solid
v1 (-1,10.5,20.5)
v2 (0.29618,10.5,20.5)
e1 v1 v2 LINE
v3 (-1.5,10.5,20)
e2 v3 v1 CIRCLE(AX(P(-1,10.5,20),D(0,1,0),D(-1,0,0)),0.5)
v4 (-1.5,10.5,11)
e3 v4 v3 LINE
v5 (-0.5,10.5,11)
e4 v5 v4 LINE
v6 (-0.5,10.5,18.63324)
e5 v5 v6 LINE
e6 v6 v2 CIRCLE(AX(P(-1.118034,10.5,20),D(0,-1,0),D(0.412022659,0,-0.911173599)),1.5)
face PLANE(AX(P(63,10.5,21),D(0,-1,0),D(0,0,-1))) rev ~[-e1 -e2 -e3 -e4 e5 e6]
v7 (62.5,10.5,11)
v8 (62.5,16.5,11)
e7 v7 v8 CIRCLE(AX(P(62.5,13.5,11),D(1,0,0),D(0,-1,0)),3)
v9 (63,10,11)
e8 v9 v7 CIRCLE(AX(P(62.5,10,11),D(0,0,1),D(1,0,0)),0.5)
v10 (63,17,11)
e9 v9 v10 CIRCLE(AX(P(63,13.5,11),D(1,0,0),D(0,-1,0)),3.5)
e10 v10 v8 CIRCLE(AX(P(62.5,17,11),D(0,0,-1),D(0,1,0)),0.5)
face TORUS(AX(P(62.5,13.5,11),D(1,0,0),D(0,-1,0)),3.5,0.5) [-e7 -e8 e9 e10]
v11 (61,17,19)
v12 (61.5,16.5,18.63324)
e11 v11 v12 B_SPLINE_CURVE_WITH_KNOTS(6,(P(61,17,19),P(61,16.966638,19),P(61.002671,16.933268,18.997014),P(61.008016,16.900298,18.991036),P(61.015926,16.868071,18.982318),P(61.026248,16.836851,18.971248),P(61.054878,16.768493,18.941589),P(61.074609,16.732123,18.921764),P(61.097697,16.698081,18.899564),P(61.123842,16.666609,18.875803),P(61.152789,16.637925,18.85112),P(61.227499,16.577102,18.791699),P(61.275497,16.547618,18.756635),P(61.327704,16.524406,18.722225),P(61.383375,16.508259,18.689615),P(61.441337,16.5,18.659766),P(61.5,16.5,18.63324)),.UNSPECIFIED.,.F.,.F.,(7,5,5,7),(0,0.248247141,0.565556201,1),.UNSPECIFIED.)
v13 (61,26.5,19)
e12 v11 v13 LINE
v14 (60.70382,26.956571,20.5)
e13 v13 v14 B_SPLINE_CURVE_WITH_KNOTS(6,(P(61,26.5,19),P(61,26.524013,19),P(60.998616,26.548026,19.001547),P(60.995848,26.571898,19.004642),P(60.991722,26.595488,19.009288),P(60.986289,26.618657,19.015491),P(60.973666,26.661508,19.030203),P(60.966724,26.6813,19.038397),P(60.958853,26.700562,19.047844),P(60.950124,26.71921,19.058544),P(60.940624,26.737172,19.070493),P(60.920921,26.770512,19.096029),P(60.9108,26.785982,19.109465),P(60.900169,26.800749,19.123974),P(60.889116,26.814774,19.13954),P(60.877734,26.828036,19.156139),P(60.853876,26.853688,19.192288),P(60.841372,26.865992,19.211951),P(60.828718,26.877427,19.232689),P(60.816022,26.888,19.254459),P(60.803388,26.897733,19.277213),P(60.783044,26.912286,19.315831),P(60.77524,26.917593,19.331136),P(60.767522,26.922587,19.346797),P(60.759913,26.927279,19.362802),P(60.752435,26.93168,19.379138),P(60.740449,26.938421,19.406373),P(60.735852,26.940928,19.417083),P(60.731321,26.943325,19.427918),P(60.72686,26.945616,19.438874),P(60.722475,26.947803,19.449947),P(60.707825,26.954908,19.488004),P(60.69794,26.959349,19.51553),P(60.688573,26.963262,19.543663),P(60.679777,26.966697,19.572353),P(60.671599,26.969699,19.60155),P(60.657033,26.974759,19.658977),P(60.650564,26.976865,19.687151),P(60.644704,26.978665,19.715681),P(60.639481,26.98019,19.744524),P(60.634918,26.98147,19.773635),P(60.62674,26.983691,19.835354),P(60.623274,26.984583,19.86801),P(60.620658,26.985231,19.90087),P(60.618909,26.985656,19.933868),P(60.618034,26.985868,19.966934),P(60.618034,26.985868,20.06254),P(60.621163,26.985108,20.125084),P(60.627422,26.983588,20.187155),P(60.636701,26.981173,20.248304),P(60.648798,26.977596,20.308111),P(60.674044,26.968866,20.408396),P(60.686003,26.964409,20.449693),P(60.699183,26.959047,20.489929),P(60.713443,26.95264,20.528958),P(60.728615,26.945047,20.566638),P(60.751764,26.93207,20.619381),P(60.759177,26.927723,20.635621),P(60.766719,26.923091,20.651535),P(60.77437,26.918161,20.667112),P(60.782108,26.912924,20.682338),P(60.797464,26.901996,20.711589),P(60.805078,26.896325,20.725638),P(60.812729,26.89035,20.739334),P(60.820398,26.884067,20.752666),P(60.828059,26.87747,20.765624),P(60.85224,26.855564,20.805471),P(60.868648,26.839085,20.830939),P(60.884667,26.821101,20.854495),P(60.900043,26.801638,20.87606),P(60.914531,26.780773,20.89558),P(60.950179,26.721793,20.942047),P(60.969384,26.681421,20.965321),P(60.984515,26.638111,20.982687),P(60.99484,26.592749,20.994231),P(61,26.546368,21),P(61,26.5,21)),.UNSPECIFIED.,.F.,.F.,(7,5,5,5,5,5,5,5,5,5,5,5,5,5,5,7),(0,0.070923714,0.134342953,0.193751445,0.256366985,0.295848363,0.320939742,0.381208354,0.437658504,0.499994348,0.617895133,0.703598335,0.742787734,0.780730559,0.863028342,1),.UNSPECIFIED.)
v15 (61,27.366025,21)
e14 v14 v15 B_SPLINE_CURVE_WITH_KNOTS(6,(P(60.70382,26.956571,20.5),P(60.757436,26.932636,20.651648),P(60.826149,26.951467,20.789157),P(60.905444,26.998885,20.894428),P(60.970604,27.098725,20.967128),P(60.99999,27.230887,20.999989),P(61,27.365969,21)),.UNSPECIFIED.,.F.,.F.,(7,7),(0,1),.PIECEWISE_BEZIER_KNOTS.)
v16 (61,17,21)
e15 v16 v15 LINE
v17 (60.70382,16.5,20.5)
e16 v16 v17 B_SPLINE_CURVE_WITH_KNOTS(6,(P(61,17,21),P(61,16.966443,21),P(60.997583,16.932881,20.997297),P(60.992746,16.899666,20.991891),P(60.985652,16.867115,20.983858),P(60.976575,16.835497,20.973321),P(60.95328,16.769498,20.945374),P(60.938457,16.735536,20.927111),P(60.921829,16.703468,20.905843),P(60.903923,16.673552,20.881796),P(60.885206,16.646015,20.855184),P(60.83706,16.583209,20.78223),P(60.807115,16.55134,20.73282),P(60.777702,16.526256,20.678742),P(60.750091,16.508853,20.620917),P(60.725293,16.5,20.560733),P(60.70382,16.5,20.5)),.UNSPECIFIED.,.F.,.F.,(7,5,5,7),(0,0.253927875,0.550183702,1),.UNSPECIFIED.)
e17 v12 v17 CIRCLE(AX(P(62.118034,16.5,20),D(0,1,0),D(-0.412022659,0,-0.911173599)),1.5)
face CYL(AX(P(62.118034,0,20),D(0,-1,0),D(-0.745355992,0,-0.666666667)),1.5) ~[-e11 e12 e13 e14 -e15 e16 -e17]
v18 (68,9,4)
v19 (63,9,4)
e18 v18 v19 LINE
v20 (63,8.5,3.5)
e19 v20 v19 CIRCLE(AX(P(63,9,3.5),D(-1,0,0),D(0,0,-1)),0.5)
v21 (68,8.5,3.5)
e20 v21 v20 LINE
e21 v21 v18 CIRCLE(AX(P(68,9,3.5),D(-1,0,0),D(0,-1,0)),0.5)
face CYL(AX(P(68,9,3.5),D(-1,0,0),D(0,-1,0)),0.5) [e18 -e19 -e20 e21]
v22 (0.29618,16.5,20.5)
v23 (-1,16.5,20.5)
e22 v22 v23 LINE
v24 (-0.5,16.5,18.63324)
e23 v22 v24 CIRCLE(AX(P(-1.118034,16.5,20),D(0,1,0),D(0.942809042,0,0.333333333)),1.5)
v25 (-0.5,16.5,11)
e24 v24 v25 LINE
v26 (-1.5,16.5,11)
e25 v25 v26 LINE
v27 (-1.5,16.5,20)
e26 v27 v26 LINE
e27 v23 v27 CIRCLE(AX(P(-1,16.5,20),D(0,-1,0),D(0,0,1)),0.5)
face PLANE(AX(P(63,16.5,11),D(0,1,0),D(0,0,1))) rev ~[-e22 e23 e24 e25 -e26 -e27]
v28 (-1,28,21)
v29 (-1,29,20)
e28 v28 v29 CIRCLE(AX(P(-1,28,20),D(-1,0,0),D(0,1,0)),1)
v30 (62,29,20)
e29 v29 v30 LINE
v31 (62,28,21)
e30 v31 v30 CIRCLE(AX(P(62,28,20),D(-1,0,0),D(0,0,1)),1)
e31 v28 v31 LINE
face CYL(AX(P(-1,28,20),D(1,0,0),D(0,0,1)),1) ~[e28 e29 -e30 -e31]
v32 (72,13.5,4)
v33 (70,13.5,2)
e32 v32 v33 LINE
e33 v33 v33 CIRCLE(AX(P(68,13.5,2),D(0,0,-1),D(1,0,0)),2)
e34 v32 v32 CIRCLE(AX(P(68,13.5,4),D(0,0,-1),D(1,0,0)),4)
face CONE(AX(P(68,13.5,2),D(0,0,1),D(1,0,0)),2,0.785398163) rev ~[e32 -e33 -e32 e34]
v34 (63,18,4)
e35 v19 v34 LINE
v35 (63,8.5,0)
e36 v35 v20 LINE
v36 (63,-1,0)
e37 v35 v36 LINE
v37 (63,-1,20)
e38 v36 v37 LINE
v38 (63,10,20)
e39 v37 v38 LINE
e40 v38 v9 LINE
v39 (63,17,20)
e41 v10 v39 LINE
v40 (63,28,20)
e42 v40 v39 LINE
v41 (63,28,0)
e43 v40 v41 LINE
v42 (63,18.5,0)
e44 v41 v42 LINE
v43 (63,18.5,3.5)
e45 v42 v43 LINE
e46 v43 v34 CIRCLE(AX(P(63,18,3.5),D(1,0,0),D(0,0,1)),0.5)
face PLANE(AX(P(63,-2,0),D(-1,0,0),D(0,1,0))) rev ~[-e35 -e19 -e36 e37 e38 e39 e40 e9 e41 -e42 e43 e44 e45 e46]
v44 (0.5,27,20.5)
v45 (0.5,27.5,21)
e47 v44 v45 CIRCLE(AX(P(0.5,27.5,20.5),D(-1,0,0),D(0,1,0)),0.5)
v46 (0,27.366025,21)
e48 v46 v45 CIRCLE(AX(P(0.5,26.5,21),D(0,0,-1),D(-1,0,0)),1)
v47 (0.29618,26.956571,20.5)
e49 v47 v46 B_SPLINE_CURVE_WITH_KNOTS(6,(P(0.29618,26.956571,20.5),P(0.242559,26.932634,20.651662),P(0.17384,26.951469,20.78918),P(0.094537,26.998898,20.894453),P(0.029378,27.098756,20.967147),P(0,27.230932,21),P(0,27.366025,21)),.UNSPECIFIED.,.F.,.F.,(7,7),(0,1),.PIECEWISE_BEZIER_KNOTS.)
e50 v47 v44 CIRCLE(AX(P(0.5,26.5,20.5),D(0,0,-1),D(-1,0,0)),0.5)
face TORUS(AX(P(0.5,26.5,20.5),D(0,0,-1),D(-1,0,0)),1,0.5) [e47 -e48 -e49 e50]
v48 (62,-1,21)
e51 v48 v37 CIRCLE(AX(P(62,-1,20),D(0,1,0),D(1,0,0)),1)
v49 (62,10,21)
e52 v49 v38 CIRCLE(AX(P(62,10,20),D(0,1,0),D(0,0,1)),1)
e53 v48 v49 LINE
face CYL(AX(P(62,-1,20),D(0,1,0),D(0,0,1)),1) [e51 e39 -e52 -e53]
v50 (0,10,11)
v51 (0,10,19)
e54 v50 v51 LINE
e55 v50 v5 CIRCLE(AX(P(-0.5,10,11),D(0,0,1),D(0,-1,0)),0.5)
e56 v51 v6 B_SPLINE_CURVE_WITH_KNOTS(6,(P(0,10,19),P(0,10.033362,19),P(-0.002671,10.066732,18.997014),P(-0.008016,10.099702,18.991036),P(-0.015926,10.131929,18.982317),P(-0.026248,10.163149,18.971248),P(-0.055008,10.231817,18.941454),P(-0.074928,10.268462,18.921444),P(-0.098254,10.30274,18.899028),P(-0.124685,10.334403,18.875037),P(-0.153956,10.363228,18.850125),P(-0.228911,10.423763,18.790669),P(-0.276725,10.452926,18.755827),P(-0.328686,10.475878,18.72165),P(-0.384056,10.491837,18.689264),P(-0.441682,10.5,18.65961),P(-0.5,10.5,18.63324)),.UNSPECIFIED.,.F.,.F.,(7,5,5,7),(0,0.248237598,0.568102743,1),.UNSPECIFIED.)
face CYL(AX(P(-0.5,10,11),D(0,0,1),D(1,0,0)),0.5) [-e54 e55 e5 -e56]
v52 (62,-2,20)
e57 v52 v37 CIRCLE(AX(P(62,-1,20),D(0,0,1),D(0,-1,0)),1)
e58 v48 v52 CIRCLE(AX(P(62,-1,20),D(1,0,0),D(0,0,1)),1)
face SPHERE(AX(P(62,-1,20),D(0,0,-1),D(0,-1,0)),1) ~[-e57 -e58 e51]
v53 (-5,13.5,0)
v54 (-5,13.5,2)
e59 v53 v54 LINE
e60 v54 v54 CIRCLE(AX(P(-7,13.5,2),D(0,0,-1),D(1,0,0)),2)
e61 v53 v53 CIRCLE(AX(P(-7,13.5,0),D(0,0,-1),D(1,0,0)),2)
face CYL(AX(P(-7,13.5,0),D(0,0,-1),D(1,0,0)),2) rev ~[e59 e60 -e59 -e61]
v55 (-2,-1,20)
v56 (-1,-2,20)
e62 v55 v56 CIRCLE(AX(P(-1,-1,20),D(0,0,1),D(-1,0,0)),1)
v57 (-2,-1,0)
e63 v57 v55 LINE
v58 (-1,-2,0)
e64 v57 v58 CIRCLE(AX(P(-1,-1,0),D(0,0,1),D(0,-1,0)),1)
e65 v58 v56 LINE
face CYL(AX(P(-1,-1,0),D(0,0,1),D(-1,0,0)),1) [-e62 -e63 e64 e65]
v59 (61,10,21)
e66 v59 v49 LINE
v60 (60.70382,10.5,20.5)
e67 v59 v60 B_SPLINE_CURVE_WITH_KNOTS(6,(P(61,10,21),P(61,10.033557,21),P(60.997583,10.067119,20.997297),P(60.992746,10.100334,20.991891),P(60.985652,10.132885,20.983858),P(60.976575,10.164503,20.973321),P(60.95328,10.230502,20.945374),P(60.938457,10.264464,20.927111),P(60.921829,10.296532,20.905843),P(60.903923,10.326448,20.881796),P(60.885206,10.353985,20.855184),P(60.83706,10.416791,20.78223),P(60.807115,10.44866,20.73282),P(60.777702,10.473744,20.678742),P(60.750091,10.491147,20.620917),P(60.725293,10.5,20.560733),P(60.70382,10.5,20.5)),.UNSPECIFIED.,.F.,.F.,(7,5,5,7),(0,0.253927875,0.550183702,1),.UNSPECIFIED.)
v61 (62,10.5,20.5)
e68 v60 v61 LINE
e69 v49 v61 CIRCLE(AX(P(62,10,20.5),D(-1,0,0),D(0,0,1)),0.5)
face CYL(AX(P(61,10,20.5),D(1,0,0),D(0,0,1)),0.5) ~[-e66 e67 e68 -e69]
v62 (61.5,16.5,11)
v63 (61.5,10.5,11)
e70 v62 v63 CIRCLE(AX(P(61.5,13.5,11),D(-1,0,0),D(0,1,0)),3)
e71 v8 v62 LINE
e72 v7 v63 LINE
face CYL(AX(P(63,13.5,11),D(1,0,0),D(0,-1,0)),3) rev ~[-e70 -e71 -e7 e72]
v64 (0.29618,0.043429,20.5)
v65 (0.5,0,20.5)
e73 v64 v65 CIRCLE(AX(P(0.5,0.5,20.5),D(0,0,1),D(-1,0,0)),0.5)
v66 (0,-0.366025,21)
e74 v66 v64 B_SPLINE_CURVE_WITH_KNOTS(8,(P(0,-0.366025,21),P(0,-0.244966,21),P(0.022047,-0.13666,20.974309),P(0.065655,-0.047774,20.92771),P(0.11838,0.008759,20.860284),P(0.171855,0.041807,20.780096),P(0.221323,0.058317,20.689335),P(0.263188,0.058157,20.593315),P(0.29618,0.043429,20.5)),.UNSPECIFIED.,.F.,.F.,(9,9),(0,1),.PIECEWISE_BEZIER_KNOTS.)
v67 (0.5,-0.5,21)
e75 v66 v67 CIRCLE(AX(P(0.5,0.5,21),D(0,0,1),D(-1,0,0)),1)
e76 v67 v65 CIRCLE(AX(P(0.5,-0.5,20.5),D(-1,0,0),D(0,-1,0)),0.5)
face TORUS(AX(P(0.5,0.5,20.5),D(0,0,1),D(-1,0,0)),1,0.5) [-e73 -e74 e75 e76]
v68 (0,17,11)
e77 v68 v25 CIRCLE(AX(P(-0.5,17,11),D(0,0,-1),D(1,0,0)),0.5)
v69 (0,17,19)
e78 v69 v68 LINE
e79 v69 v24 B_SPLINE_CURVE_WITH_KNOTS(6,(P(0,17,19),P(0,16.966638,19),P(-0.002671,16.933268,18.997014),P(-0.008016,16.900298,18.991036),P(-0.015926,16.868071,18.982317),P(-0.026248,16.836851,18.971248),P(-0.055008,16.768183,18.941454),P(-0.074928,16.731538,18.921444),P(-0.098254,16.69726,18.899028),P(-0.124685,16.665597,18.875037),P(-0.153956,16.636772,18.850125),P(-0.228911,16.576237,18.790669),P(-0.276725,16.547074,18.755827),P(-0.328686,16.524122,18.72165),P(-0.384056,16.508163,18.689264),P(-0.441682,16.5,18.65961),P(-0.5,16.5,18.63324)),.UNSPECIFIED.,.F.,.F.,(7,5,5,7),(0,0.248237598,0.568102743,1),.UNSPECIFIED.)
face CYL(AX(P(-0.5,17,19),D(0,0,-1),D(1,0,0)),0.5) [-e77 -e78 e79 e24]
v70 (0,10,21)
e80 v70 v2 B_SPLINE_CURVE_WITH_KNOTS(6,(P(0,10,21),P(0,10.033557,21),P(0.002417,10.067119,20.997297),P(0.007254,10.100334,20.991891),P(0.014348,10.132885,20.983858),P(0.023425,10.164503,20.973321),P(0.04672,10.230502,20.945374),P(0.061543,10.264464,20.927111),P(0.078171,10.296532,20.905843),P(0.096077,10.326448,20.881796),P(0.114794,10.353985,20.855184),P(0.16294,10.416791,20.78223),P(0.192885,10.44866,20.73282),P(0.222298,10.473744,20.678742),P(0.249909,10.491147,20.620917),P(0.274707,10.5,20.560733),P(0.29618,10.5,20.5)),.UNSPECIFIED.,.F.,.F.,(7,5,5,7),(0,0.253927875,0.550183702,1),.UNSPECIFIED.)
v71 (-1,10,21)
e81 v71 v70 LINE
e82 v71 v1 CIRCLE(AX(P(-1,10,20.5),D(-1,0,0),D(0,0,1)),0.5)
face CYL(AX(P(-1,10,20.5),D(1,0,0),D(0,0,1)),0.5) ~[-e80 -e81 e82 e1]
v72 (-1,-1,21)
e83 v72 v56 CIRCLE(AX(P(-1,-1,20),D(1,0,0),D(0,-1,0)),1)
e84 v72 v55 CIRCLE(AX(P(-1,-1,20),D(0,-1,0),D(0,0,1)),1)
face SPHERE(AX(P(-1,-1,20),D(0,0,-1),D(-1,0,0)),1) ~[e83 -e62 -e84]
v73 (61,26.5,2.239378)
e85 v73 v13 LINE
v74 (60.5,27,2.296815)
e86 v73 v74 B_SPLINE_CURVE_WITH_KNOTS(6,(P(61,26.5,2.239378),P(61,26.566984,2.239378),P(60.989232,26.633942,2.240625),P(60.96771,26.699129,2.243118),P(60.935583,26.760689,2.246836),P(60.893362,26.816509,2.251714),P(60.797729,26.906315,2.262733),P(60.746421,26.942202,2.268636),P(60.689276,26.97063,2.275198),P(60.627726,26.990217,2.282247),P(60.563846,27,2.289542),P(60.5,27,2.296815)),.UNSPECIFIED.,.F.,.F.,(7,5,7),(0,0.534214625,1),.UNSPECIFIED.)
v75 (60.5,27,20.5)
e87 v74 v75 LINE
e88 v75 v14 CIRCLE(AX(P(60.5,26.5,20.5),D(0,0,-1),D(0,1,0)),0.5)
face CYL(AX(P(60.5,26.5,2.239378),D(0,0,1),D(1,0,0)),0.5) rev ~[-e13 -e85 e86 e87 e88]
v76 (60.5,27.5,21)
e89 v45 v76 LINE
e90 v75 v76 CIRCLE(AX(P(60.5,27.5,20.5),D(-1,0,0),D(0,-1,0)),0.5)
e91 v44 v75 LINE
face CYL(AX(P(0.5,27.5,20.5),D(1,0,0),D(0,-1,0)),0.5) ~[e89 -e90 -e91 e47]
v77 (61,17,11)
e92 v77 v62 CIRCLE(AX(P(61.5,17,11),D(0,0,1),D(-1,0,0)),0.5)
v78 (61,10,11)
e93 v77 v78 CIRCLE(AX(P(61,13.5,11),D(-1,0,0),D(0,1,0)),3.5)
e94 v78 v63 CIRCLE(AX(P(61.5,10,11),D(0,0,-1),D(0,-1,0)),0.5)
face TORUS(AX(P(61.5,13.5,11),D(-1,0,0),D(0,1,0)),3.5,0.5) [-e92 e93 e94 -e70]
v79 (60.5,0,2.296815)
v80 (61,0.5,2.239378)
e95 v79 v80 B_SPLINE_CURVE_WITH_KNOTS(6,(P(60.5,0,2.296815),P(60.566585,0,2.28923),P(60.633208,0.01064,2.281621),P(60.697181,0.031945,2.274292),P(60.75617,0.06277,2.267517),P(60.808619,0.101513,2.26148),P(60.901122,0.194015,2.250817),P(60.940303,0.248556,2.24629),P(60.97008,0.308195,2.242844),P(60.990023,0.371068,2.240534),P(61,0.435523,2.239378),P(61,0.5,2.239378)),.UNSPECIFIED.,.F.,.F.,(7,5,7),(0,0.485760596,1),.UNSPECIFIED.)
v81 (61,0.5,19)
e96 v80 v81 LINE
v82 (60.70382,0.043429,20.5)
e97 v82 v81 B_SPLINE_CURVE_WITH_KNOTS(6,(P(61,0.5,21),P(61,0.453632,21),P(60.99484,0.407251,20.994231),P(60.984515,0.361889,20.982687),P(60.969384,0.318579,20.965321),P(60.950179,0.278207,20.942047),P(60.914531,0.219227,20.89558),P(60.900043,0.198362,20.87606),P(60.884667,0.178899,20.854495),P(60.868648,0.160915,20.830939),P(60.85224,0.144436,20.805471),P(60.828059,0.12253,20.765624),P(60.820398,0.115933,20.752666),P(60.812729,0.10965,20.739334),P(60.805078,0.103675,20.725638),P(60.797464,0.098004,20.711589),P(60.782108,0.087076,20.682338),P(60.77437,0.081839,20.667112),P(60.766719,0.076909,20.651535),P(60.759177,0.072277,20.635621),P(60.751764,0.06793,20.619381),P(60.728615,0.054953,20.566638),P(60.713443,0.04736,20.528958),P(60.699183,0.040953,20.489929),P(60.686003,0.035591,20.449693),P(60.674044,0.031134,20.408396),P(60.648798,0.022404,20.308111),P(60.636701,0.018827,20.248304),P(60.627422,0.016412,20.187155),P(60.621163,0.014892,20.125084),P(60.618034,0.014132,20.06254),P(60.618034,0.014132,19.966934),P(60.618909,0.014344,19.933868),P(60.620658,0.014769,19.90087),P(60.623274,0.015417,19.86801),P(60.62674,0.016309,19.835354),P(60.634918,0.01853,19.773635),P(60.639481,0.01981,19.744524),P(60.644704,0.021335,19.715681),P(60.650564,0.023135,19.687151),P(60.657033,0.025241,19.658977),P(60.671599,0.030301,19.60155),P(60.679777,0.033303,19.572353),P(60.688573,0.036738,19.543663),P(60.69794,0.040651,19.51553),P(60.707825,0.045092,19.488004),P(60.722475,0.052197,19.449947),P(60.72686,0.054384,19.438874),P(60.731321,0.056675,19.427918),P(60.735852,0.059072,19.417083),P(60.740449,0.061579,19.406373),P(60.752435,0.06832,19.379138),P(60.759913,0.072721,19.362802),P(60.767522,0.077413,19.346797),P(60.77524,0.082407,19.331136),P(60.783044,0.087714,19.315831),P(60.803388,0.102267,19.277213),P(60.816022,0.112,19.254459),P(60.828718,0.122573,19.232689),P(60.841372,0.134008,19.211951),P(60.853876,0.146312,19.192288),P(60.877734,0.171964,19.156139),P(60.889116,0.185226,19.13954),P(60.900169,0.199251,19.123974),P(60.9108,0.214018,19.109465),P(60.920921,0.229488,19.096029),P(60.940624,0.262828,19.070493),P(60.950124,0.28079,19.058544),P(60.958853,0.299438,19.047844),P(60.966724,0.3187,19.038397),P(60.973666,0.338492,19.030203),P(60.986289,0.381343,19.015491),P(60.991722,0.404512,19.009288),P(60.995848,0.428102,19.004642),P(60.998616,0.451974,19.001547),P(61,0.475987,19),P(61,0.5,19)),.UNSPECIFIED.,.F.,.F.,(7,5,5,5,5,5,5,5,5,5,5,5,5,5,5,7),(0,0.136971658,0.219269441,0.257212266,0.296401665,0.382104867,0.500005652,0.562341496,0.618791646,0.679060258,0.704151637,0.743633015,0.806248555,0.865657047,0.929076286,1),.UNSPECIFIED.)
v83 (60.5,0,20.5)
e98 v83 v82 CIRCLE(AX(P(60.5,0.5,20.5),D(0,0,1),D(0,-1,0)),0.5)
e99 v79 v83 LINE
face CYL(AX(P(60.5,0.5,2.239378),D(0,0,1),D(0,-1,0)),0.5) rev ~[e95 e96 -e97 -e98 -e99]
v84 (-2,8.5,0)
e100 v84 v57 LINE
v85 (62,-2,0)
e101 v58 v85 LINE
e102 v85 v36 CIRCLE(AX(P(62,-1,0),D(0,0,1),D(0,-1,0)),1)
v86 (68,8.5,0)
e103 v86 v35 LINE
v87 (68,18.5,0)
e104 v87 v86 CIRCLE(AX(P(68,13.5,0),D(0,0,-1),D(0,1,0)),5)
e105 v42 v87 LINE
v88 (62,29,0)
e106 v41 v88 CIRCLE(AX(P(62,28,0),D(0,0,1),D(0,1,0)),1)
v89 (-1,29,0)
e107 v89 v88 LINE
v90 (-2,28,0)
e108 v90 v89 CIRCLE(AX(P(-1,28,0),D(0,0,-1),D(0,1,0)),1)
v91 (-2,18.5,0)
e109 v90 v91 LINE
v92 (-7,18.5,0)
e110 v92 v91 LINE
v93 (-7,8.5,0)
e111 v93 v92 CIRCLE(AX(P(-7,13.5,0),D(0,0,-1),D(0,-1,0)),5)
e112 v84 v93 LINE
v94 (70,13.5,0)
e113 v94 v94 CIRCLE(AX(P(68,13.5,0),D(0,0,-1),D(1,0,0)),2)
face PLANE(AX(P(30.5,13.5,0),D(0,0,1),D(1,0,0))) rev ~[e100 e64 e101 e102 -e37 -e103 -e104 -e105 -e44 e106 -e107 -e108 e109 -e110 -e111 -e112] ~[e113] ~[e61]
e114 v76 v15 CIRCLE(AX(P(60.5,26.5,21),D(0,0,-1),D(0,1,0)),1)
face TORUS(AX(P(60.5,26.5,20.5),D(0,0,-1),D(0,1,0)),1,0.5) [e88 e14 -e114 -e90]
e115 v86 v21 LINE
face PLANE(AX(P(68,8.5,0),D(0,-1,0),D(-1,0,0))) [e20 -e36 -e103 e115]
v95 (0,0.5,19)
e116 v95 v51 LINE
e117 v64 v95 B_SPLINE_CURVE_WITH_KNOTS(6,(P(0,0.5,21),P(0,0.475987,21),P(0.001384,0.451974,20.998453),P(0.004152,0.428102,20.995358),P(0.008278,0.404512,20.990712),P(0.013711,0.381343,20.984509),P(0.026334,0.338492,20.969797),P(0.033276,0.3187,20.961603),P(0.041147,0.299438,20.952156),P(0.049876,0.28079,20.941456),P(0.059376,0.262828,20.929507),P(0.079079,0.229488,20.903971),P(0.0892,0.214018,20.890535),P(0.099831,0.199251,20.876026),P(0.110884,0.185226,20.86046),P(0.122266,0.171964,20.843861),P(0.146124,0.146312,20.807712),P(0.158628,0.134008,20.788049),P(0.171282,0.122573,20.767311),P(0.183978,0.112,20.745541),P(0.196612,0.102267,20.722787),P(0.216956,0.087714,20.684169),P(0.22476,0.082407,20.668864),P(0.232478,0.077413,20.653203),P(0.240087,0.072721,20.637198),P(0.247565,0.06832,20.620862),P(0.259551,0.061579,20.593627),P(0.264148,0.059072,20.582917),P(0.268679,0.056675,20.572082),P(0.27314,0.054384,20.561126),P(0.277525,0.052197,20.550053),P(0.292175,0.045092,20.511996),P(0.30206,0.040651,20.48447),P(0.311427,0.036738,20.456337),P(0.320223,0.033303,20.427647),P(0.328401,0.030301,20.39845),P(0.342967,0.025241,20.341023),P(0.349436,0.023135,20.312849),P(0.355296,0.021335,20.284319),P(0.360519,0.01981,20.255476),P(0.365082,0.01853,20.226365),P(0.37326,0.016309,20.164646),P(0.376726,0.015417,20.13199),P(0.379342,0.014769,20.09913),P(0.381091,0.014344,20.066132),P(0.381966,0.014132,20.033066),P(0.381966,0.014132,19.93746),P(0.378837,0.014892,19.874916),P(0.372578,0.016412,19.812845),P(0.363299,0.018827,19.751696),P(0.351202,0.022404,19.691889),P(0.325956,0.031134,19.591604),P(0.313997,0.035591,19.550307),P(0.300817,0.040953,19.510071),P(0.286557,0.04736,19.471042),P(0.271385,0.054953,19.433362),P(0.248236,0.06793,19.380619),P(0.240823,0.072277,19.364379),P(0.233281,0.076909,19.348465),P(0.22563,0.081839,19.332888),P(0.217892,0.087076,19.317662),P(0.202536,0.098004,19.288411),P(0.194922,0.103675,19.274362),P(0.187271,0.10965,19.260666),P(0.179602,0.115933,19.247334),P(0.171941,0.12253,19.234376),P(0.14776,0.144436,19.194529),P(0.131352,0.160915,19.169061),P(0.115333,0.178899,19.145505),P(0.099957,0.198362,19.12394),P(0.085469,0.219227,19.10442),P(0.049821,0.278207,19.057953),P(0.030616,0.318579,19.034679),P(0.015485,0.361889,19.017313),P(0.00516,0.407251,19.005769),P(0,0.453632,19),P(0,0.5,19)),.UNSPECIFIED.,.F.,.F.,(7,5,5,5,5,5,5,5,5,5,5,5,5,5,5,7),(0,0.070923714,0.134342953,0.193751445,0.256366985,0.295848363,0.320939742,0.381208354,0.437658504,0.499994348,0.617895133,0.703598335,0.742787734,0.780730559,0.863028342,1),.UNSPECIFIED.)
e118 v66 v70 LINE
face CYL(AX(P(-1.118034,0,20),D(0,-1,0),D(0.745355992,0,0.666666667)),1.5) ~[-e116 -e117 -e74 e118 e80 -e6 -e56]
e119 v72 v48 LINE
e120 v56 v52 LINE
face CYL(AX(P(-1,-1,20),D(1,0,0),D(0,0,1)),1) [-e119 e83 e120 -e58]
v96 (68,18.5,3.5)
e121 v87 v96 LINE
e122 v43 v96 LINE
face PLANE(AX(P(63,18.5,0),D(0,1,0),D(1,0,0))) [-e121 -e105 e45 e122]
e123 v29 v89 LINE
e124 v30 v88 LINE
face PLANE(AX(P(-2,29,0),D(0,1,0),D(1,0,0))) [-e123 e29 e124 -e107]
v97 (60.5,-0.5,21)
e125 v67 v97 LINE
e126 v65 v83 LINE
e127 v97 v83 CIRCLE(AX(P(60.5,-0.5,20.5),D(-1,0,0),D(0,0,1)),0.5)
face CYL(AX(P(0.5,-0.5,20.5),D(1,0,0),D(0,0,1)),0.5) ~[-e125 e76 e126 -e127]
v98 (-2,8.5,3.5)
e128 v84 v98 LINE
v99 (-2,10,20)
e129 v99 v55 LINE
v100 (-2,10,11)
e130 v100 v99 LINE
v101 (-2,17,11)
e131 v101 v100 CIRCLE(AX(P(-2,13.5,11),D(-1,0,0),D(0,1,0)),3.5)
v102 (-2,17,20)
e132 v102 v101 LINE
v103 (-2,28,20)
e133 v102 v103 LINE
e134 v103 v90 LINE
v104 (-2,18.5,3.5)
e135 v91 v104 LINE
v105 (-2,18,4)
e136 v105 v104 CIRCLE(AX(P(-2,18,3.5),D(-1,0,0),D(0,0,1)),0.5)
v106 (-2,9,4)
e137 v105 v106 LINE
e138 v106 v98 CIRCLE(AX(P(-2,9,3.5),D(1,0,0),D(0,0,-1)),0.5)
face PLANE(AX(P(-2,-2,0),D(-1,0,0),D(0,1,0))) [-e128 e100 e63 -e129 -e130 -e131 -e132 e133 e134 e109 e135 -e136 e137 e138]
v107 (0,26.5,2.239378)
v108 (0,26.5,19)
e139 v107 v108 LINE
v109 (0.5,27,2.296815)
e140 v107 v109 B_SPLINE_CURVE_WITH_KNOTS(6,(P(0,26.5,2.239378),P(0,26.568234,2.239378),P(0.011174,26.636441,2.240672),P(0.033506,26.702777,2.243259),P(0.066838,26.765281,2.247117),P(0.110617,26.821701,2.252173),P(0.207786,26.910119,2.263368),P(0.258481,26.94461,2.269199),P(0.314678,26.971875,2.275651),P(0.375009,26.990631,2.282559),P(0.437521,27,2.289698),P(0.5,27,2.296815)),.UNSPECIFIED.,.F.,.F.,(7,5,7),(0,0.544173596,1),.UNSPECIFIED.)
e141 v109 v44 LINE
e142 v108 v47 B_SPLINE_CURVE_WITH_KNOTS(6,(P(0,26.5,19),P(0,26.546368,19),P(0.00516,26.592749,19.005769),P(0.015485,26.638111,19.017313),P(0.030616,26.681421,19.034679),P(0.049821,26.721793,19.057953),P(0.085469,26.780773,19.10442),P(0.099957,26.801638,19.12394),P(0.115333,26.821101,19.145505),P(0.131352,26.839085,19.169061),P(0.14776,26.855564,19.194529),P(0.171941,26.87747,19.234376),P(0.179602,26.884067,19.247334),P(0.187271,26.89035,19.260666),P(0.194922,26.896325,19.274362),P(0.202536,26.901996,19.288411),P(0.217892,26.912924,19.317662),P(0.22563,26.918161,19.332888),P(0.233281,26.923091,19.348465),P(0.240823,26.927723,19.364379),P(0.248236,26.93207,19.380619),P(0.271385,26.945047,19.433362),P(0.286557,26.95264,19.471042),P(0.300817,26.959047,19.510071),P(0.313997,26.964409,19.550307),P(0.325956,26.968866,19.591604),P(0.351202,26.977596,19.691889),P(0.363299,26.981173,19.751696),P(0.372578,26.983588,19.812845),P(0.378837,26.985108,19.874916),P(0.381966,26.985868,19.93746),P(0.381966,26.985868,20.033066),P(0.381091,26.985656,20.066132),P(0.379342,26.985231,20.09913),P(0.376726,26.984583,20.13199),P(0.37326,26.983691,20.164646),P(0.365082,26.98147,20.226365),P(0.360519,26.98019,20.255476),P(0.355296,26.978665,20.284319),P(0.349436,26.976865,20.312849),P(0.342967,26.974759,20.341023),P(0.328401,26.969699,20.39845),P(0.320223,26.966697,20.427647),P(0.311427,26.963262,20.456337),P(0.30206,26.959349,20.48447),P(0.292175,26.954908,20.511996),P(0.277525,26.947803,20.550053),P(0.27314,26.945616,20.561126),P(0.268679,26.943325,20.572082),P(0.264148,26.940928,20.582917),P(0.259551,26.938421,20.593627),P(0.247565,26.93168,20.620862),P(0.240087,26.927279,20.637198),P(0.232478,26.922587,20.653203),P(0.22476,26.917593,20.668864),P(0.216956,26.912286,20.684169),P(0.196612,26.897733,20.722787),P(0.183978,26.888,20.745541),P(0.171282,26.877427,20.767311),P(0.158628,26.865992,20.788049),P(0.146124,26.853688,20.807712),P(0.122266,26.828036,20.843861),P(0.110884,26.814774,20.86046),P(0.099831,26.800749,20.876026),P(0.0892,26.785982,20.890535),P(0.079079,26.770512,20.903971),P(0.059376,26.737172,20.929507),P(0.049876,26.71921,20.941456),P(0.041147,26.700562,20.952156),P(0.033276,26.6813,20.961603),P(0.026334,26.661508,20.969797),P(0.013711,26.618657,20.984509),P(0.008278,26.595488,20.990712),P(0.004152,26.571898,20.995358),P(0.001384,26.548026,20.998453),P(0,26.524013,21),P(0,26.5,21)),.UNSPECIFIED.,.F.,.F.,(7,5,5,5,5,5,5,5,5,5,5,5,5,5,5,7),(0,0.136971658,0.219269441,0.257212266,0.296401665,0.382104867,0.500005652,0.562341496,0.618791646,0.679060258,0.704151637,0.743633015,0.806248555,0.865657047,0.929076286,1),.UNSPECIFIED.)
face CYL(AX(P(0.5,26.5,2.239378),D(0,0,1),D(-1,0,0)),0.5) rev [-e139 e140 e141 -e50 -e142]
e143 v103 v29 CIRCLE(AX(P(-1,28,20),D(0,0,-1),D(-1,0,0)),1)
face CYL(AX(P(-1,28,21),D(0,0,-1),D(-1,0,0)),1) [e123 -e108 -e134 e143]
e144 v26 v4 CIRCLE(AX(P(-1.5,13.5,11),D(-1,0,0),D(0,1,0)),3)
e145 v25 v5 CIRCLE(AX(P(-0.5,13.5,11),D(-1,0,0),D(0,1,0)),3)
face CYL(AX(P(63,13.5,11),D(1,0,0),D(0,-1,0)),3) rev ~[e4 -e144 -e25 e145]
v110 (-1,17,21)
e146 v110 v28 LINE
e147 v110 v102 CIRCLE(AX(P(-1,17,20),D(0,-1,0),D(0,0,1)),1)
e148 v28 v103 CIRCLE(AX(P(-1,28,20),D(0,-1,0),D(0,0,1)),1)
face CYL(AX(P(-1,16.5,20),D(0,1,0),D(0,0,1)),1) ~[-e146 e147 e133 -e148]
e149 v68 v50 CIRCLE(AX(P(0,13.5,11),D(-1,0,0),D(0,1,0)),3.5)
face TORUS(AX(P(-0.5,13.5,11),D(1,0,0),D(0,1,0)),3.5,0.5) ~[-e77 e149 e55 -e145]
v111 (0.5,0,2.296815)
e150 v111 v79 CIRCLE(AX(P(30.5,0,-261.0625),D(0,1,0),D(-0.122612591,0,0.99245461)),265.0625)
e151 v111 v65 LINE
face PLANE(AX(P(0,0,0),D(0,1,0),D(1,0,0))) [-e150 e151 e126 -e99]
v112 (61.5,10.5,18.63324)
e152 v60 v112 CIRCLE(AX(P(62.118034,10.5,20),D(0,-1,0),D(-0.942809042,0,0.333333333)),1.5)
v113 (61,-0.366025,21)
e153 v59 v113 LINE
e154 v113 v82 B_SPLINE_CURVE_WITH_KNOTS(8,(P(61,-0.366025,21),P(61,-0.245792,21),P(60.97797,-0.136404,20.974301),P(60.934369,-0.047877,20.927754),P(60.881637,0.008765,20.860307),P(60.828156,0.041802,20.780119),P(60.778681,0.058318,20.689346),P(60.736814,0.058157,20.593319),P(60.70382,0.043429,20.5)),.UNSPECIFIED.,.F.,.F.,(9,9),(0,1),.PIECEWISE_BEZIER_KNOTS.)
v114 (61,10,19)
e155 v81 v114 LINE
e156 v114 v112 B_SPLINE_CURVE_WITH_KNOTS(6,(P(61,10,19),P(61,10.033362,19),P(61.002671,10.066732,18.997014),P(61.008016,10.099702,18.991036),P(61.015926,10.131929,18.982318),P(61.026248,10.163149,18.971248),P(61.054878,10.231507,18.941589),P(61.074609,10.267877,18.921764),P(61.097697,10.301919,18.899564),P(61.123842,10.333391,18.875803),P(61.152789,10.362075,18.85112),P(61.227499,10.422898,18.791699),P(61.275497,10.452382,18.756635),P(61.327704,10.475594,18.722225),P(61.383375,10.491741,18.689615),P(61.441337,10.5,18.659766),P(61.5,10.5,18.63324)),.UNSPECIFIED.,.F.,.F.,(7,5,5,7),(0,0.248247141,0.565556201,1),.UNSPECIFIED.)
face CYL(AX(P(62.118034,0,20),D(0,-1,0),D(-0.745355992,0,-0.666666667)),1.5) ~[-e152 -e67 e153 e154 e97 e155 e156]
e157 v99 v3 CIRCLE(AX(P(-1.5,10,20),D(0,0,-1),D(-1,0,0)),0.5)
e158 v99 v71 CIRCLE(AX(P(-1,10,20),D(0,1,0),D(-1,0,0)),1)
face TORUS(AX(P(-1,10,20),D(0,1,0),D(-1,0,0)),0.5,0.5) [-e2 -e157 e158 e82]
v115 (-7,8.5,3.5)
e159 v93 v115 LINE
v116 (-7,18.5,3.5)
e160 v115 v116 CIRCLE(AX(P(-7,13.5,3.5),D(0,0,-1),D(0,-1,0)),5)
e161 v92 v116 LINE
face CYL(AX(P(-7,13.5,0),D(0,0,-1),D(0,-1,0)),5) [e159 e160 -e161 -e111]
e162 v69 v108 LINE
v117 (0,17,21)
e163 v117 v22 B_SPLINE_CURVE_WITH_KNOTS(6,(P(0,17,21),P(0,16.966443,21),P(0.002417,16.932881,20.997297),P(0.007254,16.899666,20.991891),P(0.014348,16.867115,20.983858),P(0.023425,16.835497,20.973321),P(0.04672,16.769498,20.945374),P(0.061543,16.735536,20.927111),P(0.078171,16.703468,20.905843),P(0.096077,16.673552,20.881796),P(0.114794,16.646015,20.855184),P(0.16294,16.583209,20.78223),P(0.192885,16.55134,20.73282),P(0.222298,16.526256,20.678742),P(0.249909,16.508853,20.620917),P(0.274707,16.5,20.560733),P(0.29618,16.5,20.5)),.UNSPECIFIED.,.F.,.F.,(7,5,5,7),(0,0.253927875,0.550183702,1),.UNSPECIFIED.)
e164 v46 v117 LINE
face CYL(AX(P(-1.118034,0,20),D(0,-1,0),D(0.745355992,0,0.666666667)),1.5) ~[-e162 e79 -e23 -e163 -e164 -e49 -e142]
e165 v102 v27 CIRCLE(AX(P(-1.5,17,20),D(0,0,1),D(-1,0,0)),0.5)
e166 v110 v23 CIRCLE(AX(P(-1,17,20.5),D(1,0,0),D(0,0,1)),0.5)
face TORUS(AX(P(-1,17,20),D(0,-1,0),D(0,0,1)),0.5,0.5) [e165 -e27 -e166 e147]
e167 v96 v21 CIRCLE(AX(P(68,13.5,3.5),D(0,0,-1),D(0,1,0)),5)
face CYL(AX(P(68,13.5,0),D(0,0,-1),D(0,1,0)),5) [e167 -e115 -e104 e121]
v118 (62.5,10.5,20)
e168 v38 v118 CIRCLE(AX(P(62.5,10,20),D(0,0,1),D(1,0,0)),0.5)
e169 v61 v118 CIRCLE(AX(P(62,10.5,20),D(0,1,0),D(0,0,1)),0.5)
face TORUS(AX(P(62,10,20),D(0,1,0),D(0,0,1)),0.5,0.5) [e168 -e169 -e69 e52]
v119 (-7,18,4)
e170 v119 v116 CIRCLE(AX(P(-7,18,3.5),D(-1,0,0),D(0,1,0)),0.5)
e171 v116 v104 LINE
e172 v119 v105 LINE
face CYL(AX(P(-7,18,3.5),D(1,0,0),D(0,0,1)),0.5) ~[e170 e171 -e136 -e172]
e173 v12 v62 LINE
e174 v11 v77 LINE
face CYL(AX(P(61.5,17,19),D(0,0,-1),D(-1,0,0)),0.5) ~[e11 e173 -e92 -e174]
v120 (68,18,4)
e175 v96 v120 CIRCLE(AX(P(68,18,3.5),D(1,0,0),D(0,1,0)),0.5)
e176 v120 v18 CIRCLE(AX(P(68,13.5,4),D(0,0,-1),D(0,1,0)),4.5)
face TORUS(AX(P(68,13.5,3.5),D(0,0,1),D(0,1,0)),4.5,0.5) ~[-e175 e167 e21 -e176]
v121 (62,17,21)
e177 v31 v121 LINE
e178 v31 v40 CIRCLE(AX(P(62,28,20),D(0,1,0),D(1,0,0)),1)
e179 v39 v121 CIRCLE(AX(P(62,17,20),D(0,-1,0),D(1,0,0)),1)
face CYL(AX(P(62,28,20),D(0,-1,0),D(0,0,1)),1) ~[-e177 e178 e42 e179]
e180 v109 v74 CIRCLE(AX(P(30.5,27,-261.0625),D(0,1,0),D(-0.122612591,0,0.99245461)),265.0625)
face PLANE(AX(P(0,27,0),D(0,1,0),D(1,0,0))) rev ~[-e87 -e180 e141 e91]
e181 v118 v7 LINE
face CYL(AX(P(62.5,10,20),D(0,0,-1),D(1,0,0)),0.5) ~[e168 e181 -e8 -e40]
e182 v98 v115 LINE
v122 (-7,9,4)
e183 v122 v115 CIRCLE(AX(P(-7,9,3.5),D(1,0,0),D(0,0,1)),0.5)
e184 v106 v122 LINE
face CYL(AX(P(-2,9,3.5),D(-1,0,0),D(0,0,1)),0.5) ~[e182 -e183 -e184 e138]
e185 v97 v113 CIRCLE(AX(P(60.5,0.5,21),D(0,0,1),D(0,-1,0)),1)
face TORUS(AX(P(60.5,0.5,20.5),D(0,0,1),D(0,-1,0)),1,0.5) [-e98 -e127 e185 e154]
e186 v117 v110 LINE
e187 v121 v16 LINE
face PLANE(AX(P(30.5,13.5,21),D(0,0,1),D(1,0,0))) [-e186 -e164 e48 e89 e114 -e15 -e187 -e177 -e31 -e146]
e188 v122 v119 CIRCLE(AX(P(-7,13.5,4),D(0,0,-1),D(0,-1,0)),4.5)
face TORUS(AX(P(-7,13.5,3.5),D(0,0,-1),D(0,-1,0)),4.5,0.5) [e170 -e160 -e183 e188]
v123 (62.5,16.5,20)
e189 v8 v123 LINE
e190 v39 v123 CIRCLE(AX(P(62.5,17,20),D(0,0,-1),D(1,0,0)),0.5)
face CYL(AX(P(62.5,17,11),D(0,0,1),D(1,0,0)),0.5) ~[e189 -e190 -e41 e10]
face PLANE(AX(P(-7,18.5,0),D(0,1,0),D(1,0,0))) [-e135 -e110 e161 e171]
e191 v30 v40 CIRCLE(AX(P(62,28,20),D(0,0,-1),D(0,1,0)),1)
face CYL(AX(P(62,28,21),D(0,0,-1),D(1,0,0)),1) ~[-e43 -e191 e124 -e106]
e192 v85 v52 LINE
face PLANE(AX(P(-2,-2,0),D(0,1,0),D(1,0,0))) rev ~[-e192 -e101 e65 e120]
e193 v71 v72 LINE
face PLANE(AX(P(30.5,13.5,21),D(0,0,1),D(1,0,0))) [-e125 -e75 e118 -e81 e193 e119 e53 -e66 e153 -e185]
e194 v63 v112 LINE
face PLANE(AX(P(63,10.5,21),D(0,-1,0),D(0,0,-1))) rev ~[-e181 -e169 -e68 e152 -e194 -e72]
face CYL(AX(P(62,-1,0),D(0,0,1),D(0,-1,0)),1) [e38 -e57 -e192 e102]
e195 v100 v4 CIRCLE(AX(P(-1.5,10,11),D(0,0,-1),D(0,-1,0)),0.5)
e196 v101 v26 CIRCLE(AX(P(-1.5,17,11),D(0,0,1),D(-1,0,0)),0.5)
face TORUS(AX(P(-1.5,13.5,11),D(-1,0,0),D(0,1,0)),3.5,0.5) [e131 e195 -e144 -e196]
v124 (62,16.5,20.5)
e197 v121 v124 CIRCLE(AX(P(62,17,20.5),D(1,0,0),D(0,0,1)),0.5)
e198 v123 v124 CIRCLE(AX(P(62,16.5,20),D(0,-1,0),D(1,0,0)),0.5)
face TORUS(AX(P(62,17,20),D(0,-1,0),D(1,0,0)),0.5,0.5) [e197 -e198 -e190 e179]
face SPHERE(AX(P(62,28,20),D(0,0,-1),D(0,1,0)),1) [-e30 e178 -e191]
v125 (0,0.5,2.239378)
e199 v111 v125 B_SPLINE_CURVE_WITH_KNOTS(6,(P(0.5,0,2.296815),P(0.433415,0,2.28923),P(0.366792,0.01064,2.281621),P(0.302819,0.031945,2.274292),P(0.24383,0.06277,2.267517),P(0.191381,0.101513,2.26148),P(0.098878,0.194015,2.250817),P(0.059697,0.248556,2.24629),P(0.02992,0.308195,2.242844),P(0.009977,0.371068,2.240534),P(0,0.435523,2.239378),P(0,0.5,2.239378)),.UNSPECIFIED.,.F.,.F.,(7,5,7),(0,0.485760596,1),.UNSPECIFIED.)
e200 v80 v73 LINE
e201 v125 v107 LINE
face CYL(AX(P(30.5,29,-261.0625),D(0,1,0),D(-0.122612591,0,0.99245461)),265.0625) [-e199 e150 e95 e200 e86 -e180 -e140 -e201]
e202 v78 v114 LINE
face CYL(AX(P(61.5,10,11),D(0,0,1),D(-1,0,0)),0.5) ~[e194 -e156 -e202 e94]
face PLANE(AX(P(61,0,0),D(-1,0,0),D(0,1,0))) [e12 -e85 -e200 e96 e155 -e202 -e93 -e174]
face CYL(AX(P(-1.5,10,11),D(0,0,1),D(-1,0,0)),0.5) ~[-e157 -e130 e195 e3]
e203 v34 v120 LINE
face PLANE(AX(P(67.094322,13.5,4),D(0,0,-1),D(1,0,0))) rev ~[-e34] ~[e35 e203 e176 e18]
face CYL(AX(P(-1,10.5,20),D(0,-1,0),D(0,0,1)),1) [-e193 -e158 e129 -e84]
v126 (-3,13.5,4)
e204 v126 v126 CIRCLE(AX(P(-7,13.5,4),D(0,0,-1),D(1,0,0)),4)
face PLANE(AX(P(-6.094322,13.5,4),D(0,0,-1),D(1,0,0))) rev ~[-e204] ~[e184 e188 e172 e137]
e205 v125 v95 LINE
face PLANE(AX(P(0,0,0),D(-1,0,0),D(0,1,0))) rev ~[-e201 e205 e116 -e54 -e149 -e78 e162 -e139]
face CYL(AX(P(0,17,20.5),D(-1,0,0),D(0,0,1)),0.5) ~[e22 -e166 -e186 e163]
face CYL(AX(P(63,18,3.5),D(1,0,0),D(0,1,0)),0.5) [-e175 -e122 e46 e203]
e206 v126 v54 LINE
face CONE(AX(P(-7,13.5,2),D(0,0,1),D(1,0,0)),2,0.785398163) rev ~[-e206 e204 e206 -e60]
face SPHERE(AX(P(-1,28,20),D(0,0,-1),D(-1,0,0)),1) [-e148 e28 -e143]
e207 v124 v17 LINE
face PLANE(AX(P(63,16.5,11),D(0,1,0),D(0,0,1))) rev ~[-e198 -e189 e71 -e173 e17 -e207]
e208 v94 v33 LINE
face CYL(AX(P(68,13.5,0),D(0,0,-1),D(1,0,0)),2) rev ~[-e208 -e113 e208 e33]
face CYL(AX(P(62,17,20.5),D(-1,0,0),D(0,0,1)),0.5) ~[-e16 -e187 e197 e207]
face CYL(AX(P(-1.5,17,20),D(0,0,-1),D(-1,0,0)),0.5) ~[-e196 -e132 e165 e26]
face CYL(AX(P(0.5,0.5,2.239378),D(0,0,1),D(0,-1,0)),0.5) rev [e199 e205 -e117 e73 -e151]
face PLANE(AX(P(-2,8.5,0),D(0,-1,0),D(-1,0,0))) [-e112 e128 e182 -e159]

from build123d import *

# Parameters (mm, degrees)
F0_W      = 65
F0_H      = 31
F0_W_2    = 61
F0_H_2    = 27
F1_DEPTH  = 21
F3_DEPTH  = 29
F5_DEPTH  = 27
F7_DEPTH  = 27
F9_DEPTH  = 65.001
F10_R     = 0.5
F11_R     = 1
F12_R     = 1
F13_R     = 0.5
F14_R     = 0.5
F15_R     = 2
F16_DEPTH = 4
F17_SIZE  = 2
F18_R     = 0.5


with BuildPart() as f1:
    # F0 (on Top) → F1 (new body)
    with BuildSketch(Plane.XY):
        with Locations((30.5, 13.5)):
            Rectangle(F0_W, F0_H)
        with Locations((30.5, 13.5)):
            Rectangle(F0_W_2, F0_H_2, mode=Mode.SUBTRACT)
    extrude(amount=F1_DEPTH)

    # F2 (on face) → F3 (join, through all)
    with BuildSketch(Plane(origin=(0, 29, 0), x_dir=(-1, 0, 0), z_dir=(0, 1, 0))):
        with BuildLine():
            Line((-63, 2), (-63, 0))
            Line((-63, 0), (2, 0))
            Line((2, 0), (2, 2))
            ThreePointArc((2, 2), (-30.5, 4), (-63, 2))
        make_face()
    extrude(amount=-F3_DEPTH)

    # F4 (on face) → F5 (join, through all)
    with BuildSketch(Plane(origin=(0, 0, 0), x_dir=(-1, 0, 0), z_dir=(0, 1, 0))):
        with BuildLine():
            Line((-61, 21), (-61, 19))
            ThreePointArc((-61, 19), (-60.6180339887, 20), (-61, 21))
        make_face()
    extrude(amount=F5_DEPTH)

    # F6 (on face) → F7 (join, through all)
    with BuildSketch(Plane(origin=(0, 0, 0), x_dir=(-1, 0, 0), z_dir=(0, 1, 0))):
        with BuildLine():
            Line((0, 19), (0, 21))
            ThreePointArc((0, 21), (-0.3819660113, 20), (0, 19))
        make_face()
    extrude(amount=F7_DEPTH)

    # F8 (on face) → F9 (cut, through all)
    with BuildSketch(Plane.YZ.offset(63)):
        with BuildLine():
            Line((16.5, 21), (10.5, 21))
            Line((10.5, 21), (10.5, 11))
            ThreePointArc((10.5, 11), (13.5, 8), (16.5, 11))
            Line((16.5, 11), (16.5, 21))
        make_face()
    extrude(amount=-F9_DEPTH, mode=Mode.SUBTRACT)

    # F10
    f10_edges = [f1.edges().sort_by_distance(p)[0] for p in [
        (61, 0, 10.619689),
        (0, 0, 10.619689),
        (0, 27, 10.619689),
        (61, 27, 10.619689),
    ]]
    fillet(f10_edges, radius=F10_R)

    # F11
    f11_edges = [f1.edges().sort_by_distance(p)[0] for p in [
        (63, -2, 10.5),
        (63, 29, 10.5),
        (-2, -2, 10.5),
        (-2, 29, 10.5),
    ]]
    fillet(f11_edges, radius=F11_R)

    # F12
    f12_edges = [f1.edges().sort_by_distance(p)[0] for p in [
        (30.5, -2, 21),
        (30.5, 29, 21),
    ]]
    fillet(f12_edges, radius=F12_R)

    # F13
    f13_edges = [f1.edges().sort_by_distance(p)[0] for p in [
        (30.5, 27, 21),
        (30.5, 0, 21),
    ]]
    fillet(f13_edges, radius=F13_R)

    # F14
    f14_edges = [f1.edges().sort_by_distance(p)[0] for p in [
        (0, 16.5, 15),
        (-2, 16.5, 15.5),
        (63, 16.5, 15.5),
        (61, 16.5, 15),
    ]]
    fillet(f14_edges, radius=F14_R)

    # F15 (on face) → F16 (join)
    with BuildSketch(Plane(origin=(0, 0, 0), x_dir=(1, 0, 0), z_dir=(0, 0, -1))):
        with BuildLine():
            Line((-2, -18.5), (-2, -8.5))
            Line((-2, -8.5), (-7, -8.5))
            ThreePointArc((-7, -8.5), (-12, -13.5), (-7, -18.5))
            Line((-7, -18.5), (-2, -18.5))
        make_face()
        with Locations((-7, -13.5)):
            Circle(F15_R, mode=Mode.SUBTRACT)
        with BuildLine():
            Line((68, -8.5), (63, -8.5))
            Line((63, -8.5), (63, -18.5))
            Line((63, -18.5), (68, -18.5))
            ThreePointArc((68, -18.5), (73, -13.5), (68, -8.5))
        make_face()
        with Locations((68, -13.5)):
            Circle(F15_R, mode=Mode.SUBTRACT)
    extrude(amount=-F16_DEPTH)

    # F17
    f17_edges = [f1.edges().sort_by_distance(p)[0] for p in [
        (-9, 13.5, 4),
        (66, 13.5, 4),
    ]]
    chamfer(f17_edges, length=F17_SIZE)

    # F18
    f18_edges = [f1.edges().sort_by_distance(p)[0] for p in [
        (-12, 13.5, 4),
        (73, 13.5, 4),
    ]]
    fillet(f18_edges, radius=F18_R)


solid = f1.part
